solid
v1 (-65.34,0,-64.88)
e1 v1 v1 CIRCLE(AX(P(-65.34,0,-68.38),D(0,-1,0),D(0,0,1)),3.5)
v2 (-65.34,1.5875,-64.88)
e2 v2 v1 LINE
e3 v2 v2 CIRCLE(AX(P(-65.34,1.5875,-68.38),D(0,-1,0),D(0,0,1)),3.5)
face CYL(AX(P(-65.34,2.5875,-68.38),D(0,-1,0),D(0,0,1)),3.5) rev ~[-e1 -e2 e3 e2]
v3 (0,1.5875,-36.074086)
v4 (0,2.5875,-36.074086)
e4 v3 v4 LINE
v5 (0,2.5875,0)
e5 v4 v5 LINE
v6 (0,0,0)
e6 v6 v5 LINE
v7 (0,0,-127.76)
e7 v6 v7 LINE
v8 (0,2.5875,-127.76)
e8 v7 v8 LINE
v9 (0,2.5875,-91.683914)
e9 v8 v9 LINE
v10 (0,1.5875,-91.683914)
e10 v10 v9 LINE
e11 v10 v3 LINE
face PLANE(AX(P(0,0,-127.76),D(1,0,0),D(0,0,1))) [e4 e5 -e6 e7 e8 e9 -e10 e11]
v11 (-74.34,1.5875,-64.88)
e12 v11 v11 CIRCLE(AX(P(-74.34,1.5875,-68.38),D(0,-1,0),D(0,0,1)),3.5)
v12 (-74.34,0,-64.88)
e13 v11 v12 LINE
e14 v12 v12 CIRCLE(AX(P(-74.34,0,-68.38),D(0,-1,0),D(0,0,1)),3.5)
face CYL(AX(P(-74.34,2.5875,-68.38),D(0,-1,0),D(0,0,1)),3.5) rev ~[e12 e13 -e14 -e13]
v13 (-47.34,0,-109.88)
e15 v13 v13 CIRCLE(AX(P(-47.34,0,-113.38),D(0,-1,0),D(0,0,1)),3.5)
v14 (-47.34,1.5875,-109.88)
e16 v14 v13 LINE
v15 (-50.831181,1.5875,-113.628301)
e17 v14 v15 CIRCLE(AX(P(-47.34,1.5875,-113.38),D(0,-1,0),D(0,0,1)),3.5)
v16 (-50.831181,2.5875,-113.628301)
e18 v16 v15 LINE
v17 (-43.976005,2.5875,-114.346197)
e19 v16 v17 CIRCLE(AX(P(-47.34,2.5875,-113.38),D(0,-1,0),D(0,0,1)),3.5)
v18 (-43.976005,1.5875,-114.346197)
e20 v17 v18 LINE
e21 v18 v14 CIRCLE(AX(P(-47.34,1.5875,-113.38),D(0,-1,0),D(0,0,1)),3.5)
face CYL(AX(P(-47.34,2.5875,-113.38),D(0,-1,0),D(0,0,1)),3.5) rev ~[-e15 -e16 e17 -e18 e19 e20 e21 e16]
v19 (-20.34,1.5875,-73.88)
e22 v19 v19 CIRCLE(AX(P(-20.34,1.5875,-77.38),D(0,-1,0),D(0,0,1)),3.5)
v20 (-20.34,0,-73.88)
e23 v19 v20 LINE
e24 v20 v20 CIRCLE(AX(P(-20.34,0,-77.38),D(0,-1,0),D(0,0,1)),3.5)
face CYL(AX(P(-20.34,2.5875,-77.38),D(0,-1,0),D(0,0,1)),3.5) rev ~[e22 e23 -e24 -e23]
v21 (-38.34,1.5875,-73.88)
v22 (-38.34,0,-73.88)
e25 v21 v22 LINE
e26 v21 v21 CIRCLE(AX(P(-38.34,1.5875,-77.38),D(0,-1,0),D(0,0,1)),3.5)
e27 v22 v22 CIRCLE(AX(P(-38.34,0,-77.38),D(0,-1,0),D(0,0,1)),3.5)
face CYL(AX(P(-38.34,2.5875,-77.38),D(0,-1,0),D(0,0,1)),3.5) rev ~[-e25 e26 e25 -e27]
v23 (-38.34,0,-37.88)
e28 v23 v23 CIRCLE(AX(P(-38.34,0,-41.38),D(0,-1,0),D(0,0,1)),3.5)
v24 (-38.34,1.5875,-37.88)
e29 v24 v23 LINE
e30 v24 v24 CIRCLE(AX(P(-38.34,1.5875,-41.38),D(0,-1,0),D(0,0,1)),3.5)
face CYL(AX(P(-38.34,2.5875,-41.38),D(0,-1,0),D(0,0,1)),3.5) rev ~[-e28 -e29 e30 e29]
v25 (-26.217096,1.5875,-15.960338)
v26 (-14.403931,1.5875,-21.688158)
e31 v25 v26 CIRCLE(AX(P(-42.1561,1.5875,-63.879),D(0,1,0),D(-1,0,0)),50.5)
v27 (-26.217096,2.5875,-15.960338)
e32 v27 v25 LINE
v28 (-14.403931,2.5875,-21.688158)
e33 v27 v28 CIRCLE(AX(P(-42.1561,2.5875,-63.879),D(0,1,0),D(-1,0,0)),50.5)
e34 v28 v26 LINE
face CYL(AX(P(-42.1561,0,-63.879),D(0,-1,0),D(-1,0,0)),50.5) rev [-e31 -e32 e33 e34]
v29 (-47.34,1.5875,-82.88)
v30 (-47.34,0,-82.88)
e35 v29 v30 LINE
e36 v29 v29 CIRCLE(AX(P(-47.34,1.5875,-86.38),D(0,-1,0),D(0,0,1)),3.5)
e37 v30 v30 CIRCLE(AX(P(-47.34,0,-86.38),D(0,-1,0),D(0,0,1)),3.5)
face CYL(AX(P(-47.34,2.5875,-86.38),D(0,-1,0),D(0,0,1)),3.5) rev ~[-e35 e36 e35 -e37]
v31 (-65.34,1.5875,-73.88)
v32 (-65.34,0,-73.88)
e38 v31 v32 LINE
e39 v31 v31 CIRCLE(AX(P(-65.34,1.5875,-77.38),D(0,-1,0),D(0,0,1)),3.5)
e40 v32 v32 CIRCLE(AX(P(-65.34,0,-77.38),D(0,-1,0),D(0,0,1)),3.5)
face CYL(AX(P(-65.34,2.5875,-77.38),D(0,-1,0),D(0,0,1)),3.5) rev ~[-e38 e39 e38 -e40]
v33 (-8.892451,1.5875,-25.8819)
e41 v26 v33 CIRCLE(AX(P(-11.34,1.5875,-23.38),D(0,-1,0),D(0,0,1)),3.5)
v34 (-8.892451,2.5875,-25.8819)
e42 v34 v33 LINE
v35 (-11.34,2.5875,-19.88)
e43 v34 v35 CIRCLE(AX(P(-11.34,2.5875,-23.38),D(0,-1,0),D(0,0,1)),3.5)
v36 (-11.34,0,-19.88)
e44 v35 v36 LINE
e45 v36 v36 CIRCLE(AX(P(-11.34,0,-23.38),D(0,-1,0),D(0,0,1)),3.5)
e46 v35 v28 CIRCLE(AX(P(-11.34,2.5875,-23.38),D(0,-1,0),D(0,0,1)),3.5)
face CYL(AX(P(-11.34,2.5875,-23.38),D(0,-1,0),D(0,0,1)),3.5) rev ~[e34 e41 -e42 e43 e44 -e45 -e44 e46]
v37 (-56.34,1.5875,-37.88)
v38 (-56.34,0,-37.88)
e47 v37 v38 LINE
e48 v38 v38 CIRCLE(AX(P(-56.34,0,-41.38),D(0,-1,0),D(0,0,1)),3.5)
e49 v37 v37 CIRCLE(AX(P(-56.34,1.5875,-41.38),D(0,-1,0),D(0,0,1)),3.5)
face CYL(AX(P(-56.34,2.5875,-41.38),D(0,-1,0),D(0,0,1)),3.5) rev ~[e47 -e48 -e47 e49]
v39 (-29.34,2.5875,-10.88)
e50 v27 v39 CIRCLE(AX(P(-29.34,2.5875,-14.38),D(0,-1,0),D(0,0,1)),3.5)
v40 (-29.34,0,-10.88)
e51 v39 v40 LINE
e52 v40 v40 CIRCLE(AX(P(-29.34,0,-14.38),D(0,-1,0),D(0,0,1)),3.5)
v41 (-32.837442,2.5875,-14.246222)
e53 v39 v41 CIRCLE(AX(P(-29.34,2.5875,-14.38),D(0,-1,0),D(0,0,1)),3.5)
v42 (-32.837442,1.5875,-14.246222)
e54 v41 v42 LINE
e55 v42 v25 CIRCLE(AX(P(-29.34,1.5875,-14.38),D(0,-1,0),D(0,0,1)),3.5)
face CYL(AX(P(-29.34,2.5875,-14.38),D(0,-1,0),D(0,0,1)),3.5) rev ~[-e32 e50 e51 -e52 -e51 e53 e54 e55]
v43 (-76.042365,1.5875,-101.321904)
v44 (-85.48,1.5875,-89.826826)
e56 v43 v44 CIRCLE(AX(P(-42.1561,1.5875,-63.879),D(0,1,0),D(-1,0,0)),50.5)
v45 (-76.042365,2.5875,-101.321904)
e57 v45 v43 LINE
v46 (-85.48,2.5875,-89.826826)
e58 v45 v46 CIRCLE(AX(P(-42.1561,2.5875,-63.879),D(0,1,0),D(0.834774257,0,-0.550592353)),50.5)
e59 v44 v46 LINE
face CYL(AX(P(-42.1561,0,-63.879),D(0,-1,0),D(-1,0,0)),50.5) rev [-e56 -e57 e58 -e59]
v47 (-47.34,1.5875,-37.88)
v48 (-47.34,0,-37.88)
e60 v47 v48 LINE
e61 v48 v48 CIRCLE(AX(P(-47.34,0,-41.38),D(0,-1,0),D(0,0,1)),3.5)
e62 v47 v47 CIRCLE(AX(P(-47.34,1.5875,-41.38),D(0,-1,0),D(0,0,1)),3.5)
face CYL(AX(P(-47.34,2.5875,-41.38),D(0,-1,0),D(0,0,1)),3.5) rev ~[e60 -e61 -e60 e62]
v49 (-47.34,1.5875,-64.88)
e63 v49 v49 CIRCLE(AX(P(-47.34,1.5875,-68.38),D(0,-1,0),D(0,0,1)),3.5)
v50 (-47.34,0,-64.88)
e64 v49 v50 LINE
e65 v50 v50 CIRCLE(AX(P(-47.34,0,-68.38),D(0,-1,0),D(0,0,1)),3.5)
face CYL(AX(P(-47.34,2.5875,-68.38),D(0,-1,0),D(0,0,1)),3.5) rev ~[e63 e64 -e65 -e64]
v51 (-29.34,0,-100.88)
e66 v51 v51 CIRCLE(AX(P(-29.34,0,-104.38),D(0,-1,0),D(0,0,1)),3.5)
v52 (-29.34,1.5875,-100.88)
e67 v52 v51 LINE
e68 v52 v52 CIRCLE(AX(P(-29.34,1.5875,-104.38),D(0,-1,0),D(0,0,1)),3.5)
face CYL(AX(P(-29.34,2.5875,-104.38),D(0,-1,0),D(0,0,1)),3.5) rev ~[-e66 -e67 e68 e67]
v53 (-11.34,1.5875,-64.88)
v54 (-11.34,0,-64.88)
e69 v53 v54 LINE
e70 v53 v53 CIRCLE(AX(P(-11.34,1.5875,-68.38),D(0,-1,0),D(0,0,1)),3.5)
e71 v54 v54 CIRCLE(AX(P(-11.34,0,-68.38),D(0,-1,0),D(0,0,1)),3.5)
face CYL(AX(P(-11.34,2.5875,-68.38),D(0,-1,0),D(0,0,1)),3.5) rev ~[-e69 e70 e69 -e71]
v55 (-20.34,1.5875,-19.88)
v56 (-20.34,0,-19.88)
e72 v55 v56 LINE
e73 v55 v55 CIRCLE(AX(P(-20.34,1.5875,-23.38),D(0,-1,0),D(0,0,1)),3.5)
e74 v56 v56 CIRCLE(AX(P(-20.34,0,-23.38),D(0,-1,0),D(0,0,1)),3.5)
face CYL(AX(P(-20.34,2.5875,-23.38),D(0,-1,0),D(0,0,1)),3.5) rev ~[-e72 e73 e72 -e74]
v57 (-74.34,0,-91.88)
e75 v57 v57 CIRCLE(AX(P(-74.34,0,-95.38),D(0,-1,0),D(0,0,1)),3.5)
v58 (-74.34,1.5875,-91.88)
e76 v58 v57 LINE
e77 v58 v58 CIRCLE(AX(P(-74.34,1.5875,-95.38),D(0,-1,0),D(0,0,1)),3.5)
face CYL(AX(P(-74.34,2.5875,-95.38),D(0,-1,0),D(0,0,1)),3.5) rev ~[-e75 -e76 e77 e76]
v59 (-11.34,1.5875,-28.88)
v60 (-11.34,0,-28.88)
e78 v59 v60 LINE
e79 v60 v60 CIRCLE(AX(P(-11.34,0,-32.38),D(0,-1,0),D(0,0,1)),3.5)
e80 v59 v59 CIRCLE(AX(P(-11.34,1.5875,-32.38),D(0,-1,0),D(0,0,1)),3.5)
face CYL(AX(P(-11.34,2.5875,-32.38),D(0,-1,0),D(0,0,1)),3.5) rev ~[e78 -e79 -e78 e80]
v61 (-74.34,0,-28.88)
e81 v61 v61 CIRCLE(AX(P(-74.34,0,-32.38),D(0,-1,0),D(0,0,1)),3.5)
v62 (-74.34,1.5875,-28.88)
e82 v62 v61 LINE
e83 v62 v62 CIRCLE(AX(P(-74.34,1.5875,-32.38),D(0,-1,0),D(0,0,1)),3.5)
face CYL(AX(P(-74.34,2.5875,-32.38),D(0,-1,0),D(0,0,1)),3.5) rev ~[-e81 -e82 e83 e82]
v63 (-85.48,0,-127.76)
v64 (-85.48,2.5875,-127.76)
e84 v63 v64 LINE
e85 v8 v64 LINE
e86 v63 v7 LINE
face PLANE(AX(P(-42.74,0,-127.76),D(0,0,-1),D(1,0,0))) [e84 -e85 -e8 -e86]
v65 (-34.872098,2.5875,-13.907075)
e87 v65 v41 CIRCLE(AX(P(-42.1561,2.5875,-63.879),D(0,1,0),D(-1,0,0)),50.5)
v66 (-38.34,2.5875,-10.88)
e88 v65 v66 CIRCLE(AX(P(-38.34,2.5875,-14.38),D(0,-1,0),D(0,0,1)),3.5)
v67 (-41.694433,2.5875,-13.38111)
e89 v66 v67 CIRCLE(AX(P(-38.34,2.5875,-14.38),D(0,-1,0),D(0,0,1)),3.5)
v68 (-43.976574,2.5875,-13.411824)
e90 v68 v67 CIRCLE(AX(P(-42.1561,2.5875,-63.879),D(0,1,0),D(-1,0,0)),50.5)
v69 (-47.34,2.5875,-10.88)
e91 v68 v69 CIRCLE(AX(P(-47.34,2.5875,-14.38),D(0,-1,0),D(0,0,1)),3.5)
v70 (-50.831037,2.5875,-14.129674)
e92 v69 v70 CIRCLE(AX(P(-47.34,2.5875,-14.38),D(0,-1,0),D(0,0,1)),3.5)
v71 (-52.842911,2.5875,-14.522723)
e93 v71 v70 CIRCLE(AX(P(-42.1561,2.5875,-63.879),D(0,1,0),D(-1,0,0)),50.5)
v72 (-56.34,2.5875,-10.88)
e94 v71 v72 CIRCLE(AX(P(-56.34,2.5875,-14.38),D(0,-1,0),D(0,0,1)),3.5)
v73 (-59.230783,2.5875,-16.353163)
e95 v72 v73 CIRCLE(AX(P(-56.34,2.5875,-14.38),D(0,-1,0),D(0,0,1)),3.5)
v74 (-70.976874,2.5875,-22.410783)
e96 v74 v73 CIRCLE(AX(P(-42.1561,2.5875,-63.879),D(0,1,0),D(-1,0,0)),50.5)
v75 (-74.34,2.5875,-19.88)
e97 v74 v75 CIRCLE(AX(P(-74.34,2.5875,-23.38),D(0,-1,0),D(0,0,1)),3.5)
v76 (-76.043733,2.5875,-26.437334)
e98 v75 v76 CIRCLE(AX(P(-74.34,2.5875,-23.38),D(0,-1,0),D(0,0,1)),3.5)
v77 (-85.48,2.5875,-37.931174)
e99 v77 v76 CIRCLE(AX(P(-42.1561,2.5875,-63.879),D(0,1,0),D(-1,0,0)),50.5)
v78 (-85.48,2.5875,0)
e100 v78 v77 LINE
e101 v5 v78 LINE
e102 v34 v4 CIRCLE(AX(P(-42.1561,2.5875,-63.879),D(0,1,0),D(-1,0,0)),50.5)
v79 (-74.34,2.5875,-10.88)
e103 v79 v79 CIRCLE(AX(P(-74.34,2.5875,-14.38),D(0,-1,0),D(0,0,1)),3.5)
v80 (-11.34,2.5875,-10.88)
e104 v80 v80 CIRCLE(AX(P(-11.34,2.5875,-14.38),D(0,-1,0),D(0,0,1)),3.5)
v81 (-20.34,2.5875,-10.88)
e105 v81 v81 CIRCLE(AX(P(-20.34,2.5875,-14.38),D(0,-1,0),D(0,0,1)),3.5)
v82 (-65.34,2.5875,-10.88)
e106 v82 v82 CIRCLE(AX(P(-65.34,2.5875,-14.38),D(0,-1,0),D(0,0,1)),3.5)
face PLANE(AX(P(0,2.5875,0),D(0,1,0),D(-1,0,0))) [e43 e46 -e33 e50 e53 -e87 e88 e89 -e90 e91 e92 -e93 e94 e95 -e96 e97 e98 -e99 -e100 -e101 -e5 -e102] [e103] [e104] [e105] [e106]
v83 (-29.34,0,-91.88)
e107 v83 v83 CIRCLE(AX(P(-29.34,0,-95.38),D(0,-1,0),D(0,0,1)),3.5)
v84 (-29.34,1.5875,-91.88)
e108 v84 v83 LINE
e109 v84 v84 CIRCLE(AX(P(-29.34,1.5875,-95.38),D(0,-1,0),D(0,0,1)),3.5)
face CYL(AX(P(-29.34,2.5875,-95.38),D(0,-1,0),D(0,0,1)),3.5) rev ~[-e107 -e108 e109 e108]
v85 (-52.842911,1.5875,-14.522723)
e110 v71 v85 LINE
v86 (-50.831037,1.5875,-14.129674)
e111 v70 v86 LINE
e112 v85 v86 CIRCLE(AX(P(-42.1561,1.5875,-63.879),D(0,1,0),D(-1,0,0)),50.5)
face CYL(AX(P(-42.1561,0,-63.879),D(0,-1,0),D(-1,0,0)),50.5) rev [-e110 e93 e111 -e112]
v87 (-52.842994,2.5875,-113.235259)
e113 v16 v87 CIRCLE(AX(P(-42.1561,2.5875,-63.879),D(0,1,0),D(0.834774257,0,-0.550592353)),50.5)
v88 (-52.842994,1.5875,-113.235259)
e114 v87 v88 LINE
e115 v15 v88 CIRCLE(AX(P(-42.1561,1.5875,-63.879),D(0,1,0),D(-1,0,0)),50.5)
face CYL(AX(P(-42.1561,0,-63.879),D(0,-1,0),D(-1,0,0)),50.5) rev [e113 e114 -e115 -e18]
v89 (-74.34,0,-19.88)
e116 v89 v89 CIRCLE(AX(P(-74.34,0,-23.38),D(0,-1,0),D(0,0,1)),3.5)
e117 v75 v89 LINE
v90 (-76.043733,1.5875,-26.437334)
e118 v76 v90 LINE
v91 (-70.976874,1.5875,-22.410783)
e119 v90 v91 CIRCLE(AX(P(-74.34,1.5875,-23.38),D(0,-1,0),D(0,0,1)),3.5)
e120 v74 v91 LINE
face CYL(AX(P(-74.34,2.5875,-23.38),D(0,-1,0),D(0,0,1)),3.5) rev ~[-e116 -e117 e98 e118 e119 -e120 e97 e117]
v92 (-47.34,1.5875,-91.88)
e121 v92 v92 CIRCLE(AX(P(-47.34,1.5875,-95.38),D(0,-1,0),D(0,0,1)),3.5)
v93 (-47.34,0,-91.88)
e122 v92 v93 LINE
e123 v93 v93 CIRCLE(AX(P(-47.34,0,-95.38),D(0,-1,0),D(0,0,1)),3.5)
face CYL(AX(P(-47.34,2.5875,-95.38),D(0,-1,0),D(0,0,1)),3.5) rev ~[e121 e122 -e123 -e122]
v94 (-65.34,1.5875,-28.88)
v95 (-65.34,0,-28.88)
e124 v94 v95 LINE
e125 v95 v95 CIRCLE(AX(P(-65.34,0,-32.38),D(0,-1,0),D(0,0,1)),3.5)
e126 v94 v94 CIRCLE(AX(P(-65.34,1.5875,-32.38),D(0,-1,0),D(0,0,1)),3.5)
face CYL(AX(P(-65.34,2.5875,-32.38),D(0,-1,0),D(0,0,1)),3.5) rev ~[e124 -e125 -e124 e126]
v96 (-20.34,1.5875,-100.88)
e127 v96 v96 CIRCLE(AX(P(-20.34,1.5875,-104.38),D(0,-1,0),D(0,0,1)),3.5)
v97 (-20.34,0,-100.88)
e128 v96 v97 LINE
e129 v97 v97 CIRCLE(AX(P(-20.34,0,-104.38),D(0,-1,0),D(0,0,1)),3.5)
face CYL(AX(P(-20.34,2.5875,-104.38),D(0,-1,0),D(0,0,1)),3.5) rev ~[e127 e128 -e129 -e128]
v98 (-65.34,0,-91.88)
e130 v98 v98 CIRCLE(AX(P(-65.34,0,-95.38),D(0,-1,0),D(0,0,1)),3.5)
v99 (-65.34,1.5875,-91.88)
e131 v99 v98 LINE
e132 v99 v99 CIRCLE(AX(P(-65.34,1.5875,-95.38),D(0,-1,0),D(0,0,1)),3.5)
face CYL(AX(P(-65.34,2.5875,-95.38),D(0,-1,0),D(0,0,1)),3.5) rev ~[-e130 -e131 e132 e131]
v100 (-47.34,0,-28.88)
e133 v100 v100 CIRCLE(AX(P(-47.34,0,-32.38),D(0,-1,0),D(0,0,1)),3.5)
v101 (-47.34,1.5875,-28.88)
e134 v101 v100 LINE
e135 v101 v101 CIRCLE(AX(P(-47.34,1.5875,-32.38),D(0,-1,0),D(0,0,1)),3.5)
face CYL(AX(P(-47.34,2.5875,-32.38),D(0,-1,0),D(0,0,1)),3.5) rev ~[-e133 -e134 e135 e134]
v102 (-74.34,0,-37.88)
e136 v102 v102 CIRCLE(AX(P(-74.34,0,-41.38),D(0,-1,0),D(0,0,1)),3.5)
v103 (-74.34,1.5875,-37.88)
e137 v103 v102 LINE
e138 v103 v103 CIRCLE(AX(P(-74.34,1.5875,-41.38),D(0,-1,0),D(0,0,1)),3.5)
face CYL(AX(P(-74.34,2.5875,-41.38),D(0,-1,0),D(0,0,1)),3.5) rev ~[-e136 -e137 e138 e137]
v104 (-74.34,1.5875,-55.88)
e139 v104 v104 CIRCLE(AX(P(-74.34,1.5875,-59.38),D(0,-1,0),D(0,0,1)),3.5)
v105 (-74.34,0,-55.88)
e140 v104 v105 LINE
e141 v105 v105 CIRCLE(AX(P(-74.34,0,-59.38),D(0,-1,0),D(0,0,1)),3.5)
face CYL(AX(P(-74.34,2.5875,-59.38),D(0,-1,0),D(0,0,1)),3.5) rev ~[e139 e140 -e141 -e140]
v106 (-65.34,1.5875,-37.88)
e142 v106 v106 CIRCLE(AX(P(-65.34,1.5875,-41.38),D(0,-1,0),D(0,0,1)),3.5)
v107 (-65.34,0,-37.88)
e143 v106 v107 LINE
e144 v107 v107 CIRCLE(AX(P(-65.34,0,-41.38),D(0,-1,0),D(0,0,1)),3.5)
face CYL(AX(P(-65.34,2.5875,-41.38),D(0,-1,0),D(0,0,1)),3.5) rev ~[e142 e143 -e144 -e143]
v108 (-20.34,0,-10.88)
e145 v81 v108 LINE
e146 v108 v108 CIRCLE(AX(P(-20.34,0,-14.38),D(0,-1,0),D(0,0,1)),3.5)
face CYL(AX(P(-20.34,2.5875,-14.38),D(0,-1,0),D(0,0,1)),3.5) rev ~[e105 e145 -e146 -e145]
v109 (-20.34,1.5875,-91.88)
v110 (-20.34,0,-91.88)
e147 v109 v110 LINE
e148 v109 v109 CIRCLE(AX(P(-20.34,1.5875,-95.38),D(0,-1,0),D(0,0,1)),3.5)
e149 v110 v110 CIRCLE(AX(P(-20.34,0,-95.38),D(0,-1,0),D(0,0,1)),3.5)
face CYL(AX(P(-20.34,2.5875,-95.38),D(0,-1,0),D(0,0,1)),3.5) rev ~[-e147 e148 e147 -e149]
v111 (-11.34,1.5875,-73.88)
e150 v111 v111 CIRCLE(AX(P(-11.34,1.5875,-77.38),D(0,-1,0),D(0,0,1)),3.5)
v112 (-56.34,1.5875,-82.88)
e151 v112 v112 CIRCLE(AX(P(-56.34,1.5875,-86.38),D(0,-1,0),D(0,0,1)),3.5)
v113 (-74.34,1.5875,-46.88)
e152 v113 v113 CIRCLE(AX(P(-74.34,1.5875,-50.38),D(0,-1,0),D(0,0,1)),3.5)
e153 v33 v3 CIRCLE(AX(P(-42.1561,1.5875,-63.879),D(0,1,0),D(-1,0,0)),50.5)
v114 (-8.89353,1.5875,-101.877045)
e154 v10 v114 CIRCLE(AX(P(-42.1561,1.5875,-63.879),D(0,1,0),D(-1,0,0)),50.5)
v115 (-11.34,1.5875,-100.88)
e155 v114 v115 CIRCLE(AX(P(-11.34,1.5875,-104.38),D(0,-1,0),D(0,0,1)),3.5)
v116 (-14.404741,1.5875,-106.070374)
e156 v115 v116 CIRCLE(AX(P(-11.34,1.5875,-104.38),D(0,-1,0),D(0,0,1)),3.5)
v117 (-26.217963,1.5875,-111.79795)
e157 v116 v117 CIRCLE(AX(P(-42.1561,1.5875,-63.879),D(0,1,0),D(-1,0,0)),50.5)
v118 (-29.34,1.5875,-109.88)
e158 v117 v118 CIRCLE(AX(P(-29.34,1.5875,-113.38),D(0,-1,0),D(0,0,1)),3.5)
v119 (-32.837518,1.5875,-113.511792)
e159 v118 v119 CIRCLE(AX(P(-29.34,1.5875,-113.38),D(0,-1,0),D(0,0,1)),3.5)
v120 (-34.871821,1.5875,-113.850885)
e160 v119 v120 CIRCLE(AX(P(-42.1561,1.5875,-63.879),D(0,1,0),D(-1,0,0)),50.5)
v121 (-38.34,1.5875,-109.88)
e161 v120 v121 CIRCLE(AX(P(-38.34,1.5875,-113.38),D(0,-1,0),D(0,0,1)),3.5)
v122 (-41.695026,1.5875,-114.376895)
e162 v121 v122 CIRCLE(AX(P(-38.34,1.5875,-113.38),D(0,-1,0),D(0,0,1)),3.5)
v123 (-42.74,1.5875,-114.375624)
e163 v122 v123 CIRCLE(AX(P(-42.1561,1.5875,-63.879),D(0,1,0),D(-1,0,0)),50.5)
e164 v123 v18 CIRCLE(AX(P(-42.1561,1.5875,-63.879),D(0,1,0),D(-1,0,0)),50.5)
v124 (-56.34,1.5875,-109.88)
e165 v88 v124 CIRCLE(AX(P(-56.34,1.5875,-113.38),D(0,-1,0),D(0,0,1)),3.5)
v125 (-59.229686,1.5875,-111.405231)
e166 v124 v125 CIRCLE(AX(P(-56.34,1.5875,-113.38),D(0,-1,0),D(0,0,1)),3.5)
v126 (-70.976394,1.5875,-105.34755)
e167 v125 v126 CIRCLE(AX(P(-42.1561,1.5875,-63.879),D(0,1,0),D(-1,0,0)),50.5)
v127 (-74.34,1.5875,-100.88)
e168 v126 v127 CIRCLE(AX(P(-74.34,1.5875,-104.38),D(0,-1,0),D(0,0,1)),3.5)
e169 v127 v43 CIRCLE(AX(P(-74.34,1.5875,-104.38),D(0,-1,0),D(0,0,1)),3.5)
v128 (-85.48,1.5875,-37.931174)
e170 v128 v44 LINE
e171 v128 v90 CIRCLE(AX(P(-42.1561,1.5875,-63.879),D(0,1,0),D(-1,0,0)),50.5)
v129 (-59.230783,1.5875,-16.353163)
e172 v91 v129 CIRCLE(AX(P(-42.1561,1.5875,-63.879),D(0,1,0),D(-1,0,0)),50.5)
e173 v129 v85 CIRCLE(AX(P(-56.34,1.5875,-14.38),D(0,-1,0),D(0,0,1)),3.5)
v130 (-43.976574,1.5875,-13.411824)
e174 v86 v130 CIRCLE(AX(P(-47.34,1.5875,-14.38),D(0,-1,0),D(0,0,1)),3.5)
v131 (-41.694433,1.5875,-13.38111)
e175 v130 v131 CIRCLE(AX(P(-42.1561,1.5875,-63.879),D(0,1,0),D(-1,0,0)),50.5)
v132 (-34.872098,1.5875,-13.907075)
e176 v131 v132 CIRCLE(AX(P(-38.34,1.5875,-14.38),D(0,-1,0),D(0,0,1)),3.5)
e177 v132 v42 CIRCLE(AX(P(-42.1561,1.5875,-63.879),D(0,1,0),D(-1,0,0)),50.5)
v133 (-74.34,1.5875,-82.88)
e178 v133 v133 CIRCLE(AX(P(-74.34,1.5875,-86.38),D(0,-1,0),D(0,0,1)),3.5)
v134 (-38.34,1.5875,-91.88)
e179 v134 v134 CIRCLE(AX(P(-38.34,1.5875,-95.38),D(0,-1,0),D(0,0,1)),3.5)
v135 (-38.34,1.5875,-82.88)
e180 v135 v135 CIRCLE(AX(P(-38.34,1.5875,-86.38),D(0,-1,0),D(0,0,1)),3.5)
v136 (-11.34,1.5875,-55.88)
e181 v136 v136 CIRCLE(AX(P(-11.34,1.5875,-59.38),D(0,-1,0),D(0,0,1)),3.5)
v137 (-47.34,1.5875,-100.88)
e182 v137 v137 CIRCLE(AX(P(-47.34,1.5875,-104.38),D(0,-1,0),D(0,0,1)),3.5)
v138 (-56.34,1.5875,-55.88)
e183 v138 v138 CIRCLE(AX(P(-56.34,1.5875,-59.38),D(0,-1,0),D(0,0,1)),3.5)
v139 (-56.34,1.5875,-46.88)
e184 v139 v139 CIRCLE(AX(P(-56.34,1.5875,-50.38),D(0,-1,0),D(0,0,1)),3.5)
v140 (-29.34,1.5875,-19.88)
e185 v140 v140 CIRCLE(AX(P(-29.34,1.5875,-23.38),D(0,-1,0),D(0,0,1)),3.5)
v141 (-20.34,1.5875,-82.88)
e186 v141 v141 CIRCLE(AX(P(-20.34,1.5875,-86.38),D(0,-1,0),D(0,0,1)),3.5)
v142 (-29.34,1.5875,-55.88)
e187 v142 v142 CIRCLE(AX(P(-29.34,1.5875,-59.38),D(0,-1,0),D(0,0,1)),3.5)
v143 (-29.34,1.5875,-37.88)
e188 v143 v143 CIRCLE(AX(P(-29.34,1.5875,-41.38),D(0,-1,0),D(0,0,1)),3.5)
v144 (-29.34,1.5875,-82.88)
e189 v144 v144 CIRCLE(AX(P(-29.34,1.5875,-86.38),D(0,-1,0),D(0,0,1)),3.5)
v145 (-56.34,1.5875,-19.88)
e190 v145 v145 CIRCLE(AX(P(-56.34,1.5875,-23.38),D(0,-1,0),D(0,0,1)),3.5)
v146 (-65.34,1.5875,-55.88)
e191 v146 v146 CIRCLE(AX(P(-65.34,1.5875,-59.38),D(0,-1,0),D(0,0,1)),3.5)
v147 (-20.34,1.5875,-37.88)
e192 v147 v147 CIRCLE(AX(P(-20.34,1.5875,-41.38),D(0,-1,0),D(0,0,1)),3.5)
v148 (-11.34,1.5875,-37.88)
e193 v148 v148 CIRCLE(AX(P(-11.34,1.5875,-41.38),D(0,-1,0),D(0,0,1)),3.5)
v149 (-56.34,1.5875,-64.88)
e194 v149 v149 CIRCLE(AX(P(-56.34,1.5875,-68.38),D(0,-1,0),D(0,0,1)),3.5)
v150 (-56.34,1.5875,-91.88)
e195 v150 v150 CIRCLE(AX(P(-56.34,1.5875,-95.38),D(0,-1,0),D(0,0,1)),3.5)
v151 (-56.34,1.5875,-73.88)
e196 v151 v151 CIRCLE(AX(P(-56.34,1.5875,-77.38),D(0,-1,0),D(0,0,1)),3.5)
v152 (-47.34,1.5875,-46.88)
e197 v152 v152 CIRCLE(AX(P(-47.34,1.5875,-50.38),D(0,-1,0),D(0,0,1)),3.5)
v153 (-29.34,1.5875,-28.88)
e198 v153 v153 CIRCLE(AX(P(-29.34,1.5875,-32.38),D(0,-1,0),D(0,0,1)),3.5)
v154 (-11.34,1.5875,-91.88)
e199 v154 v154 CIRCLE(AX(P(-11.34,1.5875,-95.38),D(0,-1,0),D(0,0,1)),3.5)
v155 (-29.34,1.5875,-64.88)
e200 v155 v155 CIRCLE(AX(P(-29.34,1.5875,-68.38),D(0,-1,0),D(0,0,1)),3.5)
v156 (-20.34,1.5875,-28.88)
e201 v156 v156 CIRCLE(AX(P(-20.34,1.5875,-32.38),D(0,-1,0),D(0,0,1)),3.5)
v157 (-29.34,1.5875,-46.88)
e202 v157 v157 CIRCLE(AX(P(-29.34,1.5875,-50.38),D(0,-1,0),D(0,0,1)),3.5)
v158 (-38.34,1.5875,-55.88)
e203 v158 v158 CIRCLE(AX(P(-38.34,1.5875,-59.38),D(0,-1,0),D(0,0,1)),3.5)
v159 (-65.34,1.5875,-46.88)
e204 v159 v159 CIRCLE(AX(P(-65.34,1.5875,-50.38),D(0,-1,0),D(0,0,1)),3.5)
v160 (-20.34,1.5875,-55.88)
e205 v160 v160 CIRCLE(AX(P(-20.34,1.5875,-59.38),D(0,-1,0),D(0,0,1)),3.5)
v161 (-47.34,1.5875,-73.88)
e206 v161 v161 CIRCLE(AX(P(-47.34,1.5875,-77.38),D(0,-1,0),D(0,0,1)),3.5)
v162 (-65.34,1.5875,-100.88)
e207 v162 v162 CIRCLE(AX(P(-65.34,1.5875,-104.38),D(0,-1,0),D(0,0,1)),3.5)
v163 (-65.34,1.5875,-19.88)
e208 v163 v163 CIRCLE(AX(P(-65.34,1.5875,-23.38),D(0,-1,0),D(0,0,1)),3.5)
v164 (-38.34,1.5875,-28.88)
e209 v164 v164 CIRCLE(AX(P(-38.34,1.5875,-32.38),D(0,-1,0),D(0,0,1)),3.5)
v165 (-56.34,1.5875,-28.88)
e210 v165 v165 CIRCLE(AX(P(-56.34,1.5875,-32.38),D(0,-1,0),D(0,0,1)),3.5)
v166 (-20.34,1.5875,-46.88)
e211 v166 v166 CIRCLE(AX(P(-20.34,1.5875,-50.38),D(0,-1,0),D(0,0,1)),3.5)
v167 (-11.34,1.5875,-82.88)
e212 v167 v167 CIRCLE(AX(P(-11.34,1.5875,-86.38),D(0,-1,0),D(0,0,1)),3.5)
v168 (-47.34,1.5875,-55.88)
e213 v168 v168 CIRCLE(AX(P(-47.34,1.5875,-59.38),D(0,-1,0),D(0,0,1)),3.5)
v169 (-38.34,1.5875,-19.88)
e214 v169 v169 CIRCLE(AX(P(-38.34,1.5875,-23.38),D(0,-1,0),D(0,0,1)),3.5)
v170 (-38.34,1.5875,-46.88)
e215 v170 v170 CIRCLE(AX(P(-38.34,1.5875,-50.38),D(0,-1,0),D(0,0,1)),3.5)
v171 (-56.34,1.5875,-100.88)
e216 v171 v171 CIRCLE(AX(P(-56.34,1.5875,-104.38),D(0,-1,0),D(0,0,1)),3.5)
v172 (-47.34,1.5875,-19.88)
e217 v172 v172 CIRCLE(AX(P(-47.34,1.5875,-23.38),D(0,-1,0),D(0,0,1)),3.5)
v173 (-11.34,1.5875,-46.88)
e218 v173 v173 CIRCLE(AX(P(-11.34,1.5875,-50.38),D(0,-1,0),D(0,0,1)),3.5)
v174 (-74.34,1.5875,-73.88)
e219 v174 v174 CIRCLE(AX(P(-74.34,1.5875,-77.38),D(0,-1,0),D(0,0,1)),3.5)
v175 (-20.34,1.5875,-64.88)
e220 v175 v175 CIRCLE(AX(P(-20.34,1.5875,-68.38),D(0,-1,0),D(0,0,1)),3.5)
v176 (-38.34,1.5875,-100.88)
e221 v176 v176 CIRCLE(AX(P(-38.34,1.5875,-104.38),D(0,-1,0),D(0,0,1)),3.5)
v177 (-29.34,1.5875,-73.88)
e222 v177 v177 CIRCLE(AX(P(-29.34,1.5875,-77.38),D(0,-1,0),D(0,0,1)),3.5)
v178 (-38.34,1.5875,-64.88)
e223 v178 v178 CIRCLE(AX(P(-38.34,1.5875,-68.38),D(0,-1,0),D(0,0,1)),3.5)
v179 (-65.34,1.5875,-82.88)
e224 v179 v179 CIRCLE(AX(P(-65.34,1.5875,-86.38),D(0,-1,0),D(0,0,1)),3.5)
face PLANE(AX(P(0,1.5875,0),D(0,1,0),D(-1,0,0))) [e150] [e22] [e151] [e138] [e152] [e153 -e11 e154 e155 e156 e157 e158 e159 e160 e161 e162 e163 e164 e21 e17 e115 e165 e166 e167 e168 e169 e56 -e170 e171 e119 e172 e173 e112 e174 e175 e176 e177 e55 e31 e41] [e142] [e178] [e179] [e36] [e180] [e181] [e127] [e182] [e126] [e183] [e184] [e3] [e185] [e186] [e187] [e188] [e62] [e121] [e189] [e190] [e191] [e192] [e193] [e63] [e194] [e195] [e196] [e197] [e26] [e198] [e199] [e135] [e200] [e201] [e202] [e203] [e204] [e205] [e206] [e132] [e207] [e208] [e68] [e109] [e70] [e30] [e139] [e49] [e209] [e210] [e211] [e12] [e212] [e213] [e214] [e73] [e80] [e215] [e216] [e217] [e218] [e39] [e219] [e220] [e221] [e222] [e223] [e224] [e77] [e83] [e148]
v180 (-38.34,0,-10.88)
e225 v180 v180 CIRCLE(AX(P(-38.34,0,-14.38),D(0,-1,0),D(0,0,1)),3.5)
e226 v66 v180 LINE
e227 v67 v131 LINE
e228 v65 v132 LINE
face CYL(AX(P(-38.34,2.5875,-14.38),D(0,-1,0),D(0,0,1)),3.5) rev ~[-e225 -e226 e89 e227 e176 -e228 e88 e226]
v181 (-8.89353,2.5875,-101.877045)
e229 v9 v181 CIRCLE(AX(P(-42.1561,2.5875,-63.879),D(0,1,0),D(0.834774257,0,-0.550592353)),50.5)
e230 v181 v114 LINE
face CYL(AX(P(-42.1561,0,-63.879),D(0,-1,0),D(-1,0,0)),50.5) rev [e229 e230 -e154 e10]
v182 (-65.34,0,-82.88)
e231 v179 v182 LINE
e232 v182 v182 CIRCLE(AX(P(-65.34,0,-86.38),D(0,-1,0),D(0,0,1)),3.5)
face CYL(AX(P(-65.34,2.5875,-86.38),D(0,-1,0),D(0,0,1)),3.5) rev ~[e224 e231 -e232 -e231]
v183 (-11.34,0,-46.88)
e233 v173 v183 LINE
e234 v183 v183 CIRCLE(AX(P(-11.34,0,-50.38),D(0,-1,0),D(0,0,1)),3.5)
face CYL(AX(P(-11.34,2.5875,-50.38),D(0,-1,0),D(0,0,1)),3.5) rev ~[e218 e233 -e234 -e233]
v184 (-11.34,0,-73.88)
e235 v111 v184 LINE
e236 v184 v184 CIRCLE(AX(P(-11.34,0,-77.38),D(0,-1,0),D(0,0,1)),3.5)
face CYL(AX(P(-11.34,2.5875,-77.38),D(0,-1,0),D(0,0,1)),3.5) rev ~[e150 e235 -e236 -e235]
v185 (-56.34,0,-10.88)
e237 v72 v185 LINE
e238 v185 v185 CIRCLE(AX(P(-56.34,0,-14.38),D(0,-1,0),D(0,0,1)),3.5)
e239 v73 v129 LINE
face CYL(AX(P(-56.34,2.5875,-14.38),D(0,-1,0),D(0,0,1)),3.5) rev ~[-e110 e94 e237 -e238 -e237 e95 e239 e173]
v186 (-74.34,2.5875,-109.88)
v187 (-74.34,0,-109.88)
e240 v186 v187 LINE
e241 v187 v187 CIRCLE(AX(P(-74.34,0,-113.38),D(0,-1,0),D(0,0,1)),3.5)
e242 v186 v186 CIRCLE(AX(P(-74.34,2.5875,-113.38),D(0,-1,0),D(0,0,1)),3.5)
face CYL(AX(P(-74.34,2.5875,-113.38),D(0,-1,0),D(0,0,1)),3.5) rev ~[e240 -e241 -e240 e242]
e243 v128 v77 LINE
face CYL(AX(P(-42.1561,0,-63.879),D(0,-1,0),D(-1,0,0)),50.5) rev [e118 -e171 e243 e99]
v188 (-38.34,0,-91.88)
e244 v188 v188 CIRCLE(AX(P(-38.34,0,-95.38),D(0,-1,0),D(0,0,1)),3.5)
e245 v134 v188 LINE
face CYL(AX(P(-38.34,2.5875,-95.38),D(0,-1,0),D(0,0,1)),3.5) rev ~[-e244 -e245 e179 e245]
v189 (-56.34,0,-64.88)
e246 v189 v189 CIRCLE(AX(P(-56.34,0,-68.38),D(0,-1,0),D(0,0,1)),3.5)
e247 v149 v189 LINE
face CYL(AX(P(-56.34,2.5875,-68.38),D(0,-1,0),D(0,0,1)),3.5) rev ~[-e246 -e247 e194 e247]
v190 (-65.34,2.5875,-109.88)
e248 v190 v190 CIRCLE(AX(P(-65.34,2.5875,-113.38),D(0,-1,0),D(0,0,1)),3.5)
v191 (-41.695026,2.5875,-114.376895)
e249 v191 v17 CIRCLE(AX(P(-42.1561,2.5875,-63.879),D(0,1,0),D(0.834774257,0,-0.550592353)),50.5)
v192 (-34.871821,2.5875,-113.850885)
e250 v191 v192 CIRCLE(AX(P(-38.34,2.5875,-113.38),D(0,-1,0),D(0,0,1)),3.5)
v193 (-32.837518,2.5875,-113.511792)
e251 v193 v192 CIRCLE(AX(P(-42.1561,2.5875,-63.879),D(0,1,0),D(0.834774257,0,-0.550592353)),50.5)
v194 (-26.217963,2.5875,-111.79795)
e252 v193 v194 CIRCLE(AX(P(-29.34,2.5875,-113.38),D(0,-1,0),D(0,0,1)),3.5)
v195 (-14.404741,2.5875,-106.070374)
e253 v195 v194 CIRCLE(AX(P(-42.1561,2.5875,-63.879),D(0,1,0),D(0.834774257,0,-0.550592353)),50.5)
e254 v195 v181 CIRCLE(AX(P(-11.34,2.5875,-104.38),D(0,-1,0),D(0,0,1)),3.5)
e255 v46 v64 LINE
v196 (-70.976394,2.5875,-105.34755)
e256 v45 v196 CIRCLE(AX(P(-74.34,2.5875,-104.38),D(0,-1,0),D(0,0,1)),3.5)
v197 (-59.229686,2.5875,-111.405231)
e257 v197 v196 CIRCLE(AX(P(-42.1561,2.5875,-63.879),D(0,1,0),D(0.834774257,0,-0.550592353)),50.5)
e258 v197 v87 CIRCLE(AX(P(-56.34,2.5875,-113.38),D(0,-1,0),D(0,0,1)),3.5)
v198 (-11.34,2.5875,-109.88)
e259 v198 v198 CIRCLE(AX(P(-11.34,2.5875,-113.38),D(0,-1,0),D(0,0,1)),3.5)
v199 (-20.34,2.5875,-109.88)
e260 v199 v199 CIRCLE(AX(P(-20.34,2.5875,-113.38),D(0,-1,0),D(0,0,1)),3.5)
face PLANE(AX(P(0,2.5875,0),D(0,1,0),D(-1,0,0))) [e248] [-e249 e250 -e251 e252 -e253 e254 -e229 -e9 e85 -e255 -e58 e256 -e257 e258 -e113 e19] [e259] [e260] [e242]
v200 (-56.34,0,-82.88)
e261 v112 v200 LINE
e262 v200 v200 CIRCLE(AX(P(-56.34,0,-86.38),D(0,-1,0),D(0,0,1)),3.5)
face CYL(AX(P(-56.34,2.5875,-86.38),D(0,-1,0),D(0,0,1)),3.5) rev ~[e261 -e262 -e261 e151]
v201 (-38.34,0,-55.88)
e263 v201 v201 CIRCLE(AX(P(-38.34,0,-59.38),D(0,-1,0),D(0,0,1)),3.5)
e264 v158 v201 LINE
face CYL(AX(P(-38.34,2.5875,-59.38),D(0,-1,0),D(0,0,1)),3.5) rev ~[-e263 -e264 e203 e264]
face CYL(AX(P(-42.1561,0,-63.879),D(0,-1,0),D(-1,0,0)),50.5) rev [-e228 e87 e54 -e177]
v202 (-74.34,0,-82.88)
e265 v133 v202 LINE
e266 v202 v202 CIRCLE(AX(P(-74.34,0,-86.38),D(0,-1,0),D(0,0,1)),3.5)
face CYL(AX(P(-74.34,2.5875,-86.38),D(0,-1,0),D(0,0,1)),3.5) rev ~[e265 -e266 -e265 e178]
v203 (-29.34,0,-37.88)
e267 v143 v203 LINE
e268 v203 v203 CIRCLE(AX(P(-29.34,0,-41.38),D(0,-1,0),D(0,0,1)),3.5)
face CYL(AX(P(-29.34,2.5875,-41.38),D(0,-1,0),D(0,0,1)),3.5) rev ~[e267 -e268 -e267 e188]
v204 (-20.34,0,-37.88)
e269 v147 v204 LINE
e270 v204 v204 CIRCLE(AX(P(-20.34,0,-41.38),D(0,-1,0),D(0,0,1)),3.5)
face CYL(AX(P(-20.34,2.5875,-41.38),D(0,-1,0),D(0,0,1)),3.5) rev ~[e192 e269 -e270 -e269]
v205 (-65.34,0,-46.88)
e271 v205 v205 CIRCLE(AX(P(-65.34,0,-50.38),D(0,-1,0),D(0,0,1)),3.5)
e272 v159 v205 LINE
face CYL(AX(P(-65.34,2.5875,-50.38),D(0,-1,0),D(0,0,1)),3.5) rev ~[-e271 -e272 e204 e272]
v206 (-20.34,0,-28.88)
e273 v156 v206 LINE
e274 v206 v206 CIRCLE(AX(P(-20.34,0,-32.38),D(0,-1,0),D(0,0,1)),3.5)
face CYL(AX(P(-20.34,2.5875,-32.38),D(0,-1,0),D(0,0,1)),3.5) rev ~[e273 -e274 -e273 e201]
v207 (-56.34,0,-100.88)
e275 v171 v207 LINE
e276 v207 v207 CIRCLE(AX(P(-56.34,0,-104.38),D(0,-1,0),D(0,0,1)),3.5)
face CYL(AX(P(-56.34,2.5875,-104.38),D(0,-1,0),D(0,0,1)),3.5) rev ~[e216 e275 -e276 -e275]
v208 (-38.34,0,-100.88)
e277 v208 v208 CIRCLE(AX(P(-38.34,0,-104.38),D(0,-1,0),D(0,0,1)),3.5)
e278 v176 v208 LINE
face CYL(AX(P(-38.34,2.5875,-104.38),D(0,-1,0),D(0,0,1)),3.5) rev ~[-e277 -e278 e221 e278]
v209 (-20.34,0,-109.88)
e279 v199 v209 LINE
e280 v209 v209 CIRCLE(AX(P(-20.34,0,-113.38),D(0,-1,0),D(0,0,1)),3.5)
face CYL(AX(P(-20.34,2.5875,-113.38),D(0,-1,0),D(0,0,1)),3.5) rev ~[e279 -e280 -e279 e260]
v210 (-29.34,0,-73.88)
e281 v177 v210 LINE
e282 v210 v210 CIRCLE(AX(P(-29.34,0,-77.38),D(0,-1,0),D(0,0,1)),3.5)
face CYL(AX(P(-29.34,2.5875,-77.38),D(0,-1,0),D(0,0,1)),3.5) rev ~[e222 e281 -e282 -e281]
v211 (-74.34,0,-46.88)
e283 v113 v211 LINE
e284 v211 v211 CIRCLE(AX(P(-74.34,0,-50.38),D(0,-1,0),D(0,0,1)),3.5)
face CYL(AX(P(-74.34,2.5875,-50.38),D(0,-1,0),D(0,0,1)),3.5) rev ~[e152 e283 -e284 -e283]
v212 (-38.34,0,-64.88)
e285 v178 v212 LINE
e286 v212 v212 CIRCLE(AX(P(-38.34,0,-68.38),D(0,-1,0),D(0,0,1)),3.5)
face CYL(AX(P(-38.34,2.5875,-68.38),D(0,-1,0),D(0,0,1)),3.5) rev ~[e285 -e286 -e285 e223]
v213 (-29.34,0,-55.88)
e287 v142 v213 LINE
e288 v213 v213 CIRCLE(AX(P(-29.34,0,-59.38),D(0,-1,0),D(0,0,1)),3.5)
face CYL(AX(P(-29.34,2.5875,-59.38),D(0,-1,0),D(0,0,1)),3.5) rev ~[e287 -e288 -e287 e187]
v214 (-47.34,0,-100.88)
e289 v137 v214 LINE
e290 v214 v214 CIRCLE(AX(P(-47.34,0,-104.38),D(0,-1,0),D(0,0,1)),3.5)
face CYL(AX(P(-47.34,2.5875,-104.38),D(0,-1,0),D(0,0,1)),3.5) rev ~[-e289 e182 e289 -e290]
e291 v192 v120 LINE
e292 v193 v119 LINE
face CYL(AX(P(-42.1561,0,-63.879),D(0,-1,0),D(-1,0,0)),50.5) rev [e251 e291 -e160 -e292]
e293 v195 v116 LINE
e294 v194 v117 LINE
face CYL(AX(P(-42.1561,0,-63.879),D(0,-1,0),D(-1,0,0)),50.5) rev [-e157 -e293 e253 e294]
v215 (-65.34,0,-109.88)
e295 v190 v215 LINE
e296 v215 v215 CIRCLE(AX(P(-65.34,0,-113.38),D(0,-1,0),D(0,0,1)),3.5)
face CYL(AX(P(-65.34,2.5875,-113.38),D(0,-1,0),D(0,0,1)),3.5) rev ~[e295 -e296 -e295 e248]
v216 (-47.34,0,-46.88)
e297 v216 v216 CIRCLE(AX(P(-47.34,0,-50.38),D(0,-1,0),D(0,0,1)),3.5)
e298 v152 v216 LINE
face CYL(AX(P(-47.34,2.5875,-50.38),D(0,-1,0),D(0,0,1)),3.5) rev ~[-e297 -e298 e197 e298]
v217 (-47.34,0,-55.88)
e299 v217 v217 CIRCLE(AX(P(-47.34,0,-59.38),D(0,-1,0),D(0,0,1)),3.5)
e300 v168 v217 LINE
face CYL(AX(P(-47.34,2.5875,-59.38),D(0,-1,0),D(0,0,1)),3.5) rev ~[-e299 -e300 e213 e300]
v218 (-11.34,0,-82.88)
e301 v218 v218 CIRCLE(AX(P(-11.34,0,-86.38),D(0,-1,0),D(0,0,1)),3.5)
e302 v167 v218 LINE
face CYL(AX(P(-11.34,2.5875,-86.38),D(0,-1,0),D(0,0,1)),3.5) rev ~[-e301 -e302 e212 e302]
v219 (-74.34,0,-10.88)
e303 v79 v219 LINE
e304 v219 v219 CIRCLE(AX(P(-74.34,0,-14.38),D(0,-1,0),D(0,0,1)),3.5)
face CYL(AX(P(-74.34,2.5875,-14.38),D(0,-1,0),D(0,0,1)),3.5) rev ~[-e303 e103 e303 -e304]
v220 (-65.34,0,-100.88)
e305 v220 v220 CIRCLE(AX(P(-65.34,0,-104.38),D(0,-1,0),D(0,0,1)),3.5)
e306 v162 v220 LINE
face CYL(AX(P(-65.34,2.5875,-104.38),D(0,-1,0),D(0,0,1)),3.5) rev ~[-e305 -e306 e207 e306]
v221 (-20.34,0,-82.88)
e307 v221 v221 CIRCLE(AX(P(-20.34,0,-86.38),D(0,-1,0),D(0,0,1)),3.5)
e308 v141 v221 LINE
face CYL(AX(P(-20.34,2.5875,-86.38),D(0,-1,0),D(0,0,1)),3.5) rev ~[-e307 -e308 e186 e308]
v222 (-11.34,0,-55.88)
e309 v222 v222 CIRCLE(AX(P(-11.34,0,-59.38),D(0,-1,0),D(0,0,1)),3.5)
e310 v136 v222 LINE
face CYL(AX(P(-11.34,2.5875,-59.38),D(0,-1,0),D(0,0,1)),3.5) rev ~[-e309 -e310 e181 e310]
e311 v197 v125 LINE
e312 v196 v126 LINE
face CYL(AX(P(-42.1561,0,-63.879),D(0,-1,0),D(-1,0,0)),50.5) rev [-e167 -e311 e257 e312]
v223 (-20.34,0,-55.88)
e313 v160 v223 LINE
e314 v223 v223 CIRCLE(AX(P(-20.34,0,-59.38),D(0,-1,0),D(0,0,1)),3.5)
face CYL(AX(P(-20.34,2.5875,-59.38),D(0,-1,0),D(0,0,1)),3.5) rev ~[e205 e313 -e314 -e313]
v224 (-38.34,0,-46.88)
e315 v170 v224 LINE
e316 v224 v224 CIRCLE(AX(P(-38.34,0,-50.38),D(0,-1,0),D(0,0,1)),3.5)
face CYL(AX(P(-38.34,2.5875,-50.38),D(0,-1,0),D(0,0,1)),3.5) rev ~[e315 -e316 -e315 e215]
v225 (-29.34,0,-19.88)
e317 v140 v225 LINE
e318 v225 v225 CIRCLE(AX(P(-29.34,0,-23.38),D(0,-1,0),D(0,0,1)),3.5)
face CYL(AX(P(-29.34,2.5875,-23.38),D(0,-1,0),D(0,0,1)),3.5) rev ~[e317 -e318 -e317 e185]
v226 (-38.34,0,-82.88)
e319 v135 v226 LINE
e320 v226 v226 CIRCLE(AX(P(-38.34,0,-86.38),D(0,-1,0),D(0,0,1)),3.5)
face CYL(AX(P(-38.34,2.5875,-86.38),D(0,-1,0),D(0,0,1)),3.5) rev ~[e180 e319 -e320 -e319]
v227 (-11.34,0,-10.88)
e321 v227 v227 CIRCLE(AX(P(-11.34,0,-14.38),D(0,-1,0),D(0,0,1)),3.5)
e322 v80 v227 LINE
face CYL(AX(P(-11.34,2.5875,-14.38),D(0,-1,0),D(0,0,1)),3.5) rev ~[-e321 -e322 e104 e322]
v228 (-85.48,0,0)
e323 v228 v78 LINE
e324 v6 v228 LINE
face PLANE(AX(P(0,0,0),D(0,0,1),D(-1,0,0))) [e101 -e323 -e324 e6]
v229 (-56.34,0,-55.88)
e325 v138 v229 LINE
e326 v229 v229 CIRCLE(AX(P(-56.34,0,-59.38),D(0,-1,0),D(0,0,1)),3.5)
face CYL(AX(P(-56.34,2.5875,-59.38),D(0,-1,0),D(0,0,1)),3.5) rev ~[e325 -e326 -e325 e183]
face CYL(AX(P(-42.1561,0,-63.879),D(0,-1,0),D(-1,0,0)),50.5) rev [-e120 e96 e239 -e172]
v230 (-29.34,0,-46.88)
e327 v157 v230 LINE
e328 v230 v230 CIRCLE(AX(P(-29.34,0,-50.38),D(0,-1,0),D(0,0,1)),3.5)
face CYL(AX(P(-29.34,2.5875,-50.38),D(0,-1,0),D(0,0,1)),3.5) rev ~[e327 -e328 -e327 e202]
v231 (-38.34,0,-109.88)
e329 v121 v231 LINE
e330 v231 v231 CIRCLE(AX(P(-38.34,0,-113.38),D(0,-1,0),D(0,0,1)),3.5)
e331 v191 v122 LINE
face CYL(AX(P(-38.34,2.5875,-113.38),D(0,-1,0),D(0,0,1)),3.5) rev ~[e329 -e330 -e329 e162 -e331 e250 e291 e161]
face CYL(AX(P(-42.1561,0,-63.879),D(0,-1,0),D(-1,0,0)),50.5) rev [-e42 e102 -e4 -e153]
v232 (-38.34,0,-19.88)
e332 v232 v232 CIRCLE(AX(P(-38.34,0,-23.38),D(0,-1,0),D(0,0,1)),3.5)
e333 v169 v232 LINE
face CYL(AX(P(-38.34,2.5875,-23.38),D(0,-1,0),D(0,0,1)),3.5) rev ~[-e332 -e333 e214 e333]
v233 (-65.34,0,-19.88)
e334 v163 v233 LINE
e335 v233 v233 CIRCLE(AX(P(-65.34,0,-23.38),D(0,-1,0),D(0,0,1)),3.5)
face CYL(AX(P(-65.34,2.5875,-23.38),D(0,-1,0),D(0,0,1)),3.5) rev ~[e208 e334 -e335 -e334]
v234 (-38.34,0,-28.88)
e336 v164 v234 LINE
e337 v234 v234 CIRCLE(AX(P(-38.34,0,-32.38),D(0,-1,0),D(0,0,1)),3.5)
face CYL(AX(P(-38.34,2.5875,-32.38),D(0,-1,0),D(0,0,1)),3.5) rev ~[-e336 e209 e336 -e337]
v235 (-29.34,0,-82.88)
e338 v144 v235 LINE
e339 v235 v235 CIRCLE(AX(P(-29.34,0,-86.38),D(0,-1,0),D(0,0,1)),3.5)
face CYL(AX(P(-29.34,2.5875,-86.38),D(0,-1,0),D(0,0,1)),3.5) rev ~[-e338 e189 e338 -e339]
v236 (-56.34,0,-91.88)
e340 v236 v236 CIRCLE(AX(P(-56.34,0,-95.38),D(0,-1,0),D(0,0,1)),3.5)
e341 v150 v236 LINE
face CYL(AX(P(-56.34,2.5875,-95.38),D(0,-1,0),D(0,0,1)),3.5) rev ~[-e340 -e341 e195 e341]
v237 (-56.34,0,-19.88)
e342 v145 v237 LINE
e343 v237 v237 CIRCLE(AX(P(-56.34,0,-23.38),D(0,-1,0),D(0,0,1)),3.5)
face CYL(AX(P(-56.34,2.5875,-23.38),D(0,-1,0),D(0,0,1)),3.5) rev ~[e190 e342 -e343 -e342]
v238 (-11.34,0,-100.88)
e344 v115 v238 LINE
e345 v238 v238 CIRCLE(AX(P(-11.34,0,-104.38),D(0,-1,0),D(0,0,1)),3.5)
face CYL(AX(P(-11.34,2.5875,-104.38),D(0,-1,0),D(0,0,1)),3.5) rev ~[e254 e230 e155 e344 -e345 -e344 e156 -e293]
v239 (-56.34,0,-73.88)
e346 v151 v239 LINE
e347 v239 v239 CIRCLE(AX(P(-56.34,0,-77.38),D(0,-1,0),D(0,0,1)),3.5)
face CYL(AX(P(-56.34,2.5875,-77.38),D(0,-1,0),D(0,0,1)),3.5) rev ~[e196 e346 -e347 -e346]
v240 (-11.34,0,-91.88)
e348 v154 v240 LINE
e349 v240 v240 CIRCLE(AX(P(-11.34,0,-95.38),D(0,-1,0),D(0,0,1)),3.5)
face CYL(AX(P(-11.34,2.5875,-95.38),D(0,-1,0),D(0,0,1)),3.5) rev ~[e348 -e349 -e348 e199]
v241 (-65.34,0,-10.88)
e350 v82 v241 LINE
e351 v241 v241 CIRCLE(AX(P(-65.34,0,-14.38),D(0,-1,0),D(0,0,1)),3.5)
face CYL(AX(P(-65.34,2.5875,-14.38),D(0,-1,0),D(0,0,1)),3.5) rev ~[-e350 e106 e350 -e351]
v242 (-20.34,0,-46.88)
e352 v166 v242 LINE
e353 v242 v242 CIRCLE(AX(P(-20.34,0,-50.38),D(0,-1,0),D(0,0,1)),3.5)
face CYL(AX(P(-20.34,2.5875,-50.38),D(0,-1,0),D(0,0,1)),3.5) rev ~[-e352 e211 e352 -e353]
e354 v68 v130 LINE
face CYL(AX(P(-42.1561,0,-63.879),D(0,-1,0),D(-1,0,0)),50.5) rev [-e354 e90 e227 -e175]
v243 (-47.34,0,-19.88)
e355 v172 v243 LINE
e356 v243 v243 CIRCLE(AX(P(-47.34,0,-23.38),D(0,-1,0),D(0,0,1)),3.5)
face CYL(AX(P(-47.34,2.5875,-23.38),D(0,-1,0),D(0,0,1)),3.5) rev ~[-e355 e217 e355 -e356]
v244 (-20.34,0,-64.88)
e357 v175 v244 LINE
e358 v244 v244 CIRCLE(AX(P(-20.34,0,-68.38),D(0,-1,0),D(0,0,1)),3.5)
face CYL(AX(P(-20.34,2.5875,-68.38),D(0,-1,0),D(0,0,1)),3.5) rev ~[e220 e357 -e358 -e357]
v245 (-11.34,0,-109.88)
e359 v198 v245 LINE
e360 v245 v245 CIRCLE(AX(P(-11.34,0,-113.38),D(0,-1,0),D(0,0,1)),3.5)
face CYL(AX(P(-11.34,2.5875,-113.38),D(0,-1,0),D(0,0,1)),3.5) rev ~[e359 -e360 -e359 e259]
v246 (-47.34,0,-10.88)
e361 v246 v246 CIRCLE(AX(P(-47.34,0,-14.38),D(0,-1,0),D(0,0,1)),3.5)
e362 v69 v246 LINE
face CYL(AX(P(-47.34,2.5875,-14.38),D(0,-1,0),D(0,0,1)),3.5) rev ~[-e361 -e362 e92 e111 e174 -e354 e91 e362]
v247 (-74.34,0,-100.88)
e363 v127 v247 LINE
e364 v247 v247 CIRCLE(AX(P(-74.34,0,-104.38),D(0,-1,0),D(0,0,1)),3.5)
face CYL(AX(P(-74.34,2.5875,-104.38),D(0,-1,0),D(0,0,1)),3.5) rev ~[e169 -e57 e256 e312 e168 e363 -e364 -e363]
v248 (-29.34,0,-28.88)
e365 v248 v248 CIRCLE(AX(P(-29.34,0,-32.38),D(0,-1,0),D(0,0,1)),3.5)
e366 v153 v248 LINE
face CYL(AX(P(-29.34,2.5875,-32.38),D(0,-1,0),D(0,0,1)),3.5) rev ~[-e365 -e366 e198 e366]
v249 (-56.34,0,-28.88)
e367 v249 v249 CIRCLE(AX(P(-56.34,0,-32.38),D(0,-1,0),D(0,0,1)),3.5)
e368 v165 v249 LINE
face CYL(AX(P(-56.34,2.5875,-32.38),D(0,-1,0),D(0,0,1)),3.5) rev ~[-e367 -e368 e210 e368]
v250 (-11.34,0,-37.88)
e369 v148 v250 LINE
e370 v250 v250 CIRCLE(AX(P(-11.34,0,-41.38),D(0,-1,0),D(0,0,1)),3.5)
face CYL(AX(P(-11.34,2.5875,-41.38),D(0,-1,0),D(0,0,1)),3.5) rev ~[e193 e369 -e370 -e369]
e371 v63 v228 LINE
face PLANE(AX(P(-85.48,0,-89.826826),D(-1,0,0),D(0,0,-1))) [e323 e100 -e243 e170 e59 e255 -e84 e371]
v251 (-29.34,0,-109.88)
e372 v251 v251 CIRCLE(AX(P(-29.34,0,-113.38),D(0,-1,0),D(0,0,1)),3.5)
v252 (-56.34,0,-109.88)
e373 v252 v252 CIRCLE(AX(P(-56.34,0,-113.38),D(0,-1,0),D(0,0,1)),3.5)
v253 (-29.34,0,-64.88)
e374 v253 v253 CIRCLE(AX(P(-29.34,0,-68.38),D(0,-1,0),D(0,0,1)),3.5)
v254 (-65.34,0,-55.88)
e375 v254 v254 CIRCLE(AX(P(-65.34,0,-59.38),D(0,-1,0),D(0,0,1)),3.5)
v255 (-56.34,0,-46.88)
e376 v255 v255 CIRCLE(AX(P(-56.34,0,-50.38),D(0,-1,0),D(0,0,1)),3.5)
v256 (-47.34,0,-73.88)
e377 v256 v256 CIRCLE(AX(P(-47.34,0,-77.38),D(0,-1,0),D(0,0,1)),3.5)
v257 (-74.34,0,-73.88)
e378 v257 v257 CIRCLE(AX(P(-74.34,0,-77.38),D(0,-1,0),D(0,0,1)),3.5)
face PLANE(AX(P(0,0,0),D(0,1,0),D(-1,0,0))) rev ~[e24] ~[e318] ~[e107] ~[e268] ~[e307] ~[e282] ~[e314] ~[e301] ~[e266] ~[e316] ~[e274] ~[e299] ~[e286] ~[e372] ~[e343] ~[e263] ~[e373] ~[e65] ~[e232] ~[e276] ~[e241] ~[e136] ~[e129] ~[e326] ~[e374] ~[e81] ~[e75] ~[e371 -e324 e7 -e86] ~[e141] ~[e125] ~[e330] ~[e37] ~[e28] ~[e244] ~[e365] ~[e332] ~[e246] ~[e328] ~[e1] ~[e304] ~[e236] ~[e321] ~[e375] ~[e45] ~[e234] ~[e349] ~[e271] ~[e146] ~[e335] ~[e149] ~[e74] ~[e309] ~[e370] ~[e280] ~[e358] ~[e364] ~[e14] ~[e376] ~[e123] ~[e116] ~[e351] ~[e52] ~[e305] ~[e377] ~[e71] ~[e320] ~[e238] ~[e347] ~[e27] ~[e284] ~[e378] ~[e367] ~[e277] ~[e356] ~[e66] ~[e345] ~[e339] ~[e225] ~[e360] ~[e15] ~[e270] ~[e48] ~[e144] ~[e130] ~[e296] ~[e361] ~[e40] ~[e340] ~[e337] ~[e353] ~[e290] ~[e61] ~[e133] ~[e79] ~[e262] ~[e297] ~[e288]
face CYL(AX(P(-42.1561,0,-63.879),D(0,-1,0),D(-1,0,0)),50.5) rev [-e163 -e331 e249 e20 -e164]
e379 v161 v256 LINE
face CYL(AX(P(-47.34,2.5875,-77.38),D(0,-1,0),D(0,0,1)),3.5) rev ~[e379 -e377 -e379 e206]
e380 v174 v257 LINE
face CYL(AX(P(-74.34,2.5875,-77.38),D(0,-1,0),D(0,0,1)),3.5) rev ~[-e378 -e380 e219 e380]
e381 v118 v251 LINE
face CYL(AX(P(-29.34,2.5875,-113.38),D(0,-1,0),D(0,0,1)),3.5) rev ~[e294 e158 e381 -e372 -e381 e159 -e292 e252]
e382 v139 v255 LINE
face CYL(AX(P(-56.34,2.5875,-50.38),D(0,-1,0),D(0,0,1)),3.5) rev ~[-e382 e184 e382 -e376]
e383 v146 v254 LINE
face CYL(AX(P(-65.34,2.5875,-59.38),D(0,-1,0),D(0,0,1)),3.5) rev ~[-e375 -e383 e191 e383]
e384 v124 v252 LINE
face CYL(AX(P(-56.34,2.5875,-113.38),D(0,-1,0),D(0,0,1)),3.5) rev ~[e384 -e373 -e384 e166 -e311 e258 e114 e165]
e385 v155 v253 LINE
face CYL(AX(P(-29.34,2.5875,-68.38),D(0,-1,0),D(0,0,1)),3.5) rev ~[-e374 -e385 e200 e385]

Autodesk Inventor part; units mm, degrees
ref_plane "YZ Plane" through (0, 0, 0) normal (1, 0, 0) x (0, 1, 0)
ref_plane "XZ Plane" through (0, 0, 0) normal (0, 1, 0) x (-1, 0, 0)
ref_plane "XY Plane" through (0, 0, 0) normal (0, 0, 1) x (1, 0, 0)
sketch "Sketch1" plane through (0, 0, 0) normal (0, 1, 0) x (-1, 0, 0)
  line L0 (0, 0) -> (85.48, 0)
  line L1 (85.48, 0) -> (85.48, -127.76)
  line L2 (85.48, -127.76) -> (0, -127.76)
  line L3 (0, -127.76) -> (0, 0)
  line L4 (42.74, -127.76) -> (42.74, -63.879)
  circle A0 centre (42.1561, -63.879) radius 50.5
  line L5 (26.485, -111.163) -> (58.985, -111.1664)
  line L6 (42.74, -63.879) -> (42.7347, -113.879)
  point P0 (85.48, -37.9311)
  point P1 (85.48, -89.8269)
  point P2 (0, -91.6839)
  point P3 (0, -36.0741)
  point P4 (42.735, -111.1647)
  point P5 (42.74, -111.1647)
  point P6 (42.74, -114.3756)
  dimension "d0" = 85.48
  dimension "d1" = 127.76
  dimension "d2" = 63.881
  dimension "d3" = 101
  dimension "d4" = 32.5
extrude "Extrusion1" add sketch "Sketch1" along normal blind 2.5875 contours L0 L1 A0 L3 | A0 L4 L2 L3 | L1 L2 L4 A0
extrude "Extrusion2" add sketch "Sketch1" along normal blind 1.5875 contours L5 L6 L4 | A0 L1 L3
sketch "Sketch2" plane through (0, 2.5875, 0) normal (0, 1, 0) x (1, 0, 0)
  line L0 (-85.48, 127.76) -> (-85.48, 0) projected
  line L1 (-85.48, 25.2748) -> (-79.48, 25.2748)
  line L2 (-85.48, 25.2748) -> (-79.48, 25.2748) construction
  arc A0 (-85.48, 37.9311) -> (0, 36.0741) centre (-42.1561, 63.879) ccw projected
  line L3 (-42.1561, 13.379) -> (-42.1561, 19.379)
  line L4 (-42.1561, 19.379) -> (-85.48, 19.379)
  line L5 (-85.48, 19.379) -> (-79.48, 19.379)
  line L6 (0, 0) -> (0, 14.38)
  line L7 (0, 0) -> (0, 127.76) projected
  line L8 (0, 14.38) -> (-11.34, 14.38)
  dimension "d9" = 6
  dimension "d10" = 0
  dimension "d24" = 6
  dimension "d25" = 6
  dimension "d26" = 14.38
  dimension "d27" = 11.34
hole "Hole1" at (-11.34, 2.5875, -14.38) direction (0, -1, 0) diameter 7 end through all
pattern_linear "Rectangular Pattern1" count 12 spacing 9 along (0, 0, -1) count 8 spacing 9 along (-1, 0, 0) of "Hole1"
properties part number "100mm wafer wellplate - corral mask"
